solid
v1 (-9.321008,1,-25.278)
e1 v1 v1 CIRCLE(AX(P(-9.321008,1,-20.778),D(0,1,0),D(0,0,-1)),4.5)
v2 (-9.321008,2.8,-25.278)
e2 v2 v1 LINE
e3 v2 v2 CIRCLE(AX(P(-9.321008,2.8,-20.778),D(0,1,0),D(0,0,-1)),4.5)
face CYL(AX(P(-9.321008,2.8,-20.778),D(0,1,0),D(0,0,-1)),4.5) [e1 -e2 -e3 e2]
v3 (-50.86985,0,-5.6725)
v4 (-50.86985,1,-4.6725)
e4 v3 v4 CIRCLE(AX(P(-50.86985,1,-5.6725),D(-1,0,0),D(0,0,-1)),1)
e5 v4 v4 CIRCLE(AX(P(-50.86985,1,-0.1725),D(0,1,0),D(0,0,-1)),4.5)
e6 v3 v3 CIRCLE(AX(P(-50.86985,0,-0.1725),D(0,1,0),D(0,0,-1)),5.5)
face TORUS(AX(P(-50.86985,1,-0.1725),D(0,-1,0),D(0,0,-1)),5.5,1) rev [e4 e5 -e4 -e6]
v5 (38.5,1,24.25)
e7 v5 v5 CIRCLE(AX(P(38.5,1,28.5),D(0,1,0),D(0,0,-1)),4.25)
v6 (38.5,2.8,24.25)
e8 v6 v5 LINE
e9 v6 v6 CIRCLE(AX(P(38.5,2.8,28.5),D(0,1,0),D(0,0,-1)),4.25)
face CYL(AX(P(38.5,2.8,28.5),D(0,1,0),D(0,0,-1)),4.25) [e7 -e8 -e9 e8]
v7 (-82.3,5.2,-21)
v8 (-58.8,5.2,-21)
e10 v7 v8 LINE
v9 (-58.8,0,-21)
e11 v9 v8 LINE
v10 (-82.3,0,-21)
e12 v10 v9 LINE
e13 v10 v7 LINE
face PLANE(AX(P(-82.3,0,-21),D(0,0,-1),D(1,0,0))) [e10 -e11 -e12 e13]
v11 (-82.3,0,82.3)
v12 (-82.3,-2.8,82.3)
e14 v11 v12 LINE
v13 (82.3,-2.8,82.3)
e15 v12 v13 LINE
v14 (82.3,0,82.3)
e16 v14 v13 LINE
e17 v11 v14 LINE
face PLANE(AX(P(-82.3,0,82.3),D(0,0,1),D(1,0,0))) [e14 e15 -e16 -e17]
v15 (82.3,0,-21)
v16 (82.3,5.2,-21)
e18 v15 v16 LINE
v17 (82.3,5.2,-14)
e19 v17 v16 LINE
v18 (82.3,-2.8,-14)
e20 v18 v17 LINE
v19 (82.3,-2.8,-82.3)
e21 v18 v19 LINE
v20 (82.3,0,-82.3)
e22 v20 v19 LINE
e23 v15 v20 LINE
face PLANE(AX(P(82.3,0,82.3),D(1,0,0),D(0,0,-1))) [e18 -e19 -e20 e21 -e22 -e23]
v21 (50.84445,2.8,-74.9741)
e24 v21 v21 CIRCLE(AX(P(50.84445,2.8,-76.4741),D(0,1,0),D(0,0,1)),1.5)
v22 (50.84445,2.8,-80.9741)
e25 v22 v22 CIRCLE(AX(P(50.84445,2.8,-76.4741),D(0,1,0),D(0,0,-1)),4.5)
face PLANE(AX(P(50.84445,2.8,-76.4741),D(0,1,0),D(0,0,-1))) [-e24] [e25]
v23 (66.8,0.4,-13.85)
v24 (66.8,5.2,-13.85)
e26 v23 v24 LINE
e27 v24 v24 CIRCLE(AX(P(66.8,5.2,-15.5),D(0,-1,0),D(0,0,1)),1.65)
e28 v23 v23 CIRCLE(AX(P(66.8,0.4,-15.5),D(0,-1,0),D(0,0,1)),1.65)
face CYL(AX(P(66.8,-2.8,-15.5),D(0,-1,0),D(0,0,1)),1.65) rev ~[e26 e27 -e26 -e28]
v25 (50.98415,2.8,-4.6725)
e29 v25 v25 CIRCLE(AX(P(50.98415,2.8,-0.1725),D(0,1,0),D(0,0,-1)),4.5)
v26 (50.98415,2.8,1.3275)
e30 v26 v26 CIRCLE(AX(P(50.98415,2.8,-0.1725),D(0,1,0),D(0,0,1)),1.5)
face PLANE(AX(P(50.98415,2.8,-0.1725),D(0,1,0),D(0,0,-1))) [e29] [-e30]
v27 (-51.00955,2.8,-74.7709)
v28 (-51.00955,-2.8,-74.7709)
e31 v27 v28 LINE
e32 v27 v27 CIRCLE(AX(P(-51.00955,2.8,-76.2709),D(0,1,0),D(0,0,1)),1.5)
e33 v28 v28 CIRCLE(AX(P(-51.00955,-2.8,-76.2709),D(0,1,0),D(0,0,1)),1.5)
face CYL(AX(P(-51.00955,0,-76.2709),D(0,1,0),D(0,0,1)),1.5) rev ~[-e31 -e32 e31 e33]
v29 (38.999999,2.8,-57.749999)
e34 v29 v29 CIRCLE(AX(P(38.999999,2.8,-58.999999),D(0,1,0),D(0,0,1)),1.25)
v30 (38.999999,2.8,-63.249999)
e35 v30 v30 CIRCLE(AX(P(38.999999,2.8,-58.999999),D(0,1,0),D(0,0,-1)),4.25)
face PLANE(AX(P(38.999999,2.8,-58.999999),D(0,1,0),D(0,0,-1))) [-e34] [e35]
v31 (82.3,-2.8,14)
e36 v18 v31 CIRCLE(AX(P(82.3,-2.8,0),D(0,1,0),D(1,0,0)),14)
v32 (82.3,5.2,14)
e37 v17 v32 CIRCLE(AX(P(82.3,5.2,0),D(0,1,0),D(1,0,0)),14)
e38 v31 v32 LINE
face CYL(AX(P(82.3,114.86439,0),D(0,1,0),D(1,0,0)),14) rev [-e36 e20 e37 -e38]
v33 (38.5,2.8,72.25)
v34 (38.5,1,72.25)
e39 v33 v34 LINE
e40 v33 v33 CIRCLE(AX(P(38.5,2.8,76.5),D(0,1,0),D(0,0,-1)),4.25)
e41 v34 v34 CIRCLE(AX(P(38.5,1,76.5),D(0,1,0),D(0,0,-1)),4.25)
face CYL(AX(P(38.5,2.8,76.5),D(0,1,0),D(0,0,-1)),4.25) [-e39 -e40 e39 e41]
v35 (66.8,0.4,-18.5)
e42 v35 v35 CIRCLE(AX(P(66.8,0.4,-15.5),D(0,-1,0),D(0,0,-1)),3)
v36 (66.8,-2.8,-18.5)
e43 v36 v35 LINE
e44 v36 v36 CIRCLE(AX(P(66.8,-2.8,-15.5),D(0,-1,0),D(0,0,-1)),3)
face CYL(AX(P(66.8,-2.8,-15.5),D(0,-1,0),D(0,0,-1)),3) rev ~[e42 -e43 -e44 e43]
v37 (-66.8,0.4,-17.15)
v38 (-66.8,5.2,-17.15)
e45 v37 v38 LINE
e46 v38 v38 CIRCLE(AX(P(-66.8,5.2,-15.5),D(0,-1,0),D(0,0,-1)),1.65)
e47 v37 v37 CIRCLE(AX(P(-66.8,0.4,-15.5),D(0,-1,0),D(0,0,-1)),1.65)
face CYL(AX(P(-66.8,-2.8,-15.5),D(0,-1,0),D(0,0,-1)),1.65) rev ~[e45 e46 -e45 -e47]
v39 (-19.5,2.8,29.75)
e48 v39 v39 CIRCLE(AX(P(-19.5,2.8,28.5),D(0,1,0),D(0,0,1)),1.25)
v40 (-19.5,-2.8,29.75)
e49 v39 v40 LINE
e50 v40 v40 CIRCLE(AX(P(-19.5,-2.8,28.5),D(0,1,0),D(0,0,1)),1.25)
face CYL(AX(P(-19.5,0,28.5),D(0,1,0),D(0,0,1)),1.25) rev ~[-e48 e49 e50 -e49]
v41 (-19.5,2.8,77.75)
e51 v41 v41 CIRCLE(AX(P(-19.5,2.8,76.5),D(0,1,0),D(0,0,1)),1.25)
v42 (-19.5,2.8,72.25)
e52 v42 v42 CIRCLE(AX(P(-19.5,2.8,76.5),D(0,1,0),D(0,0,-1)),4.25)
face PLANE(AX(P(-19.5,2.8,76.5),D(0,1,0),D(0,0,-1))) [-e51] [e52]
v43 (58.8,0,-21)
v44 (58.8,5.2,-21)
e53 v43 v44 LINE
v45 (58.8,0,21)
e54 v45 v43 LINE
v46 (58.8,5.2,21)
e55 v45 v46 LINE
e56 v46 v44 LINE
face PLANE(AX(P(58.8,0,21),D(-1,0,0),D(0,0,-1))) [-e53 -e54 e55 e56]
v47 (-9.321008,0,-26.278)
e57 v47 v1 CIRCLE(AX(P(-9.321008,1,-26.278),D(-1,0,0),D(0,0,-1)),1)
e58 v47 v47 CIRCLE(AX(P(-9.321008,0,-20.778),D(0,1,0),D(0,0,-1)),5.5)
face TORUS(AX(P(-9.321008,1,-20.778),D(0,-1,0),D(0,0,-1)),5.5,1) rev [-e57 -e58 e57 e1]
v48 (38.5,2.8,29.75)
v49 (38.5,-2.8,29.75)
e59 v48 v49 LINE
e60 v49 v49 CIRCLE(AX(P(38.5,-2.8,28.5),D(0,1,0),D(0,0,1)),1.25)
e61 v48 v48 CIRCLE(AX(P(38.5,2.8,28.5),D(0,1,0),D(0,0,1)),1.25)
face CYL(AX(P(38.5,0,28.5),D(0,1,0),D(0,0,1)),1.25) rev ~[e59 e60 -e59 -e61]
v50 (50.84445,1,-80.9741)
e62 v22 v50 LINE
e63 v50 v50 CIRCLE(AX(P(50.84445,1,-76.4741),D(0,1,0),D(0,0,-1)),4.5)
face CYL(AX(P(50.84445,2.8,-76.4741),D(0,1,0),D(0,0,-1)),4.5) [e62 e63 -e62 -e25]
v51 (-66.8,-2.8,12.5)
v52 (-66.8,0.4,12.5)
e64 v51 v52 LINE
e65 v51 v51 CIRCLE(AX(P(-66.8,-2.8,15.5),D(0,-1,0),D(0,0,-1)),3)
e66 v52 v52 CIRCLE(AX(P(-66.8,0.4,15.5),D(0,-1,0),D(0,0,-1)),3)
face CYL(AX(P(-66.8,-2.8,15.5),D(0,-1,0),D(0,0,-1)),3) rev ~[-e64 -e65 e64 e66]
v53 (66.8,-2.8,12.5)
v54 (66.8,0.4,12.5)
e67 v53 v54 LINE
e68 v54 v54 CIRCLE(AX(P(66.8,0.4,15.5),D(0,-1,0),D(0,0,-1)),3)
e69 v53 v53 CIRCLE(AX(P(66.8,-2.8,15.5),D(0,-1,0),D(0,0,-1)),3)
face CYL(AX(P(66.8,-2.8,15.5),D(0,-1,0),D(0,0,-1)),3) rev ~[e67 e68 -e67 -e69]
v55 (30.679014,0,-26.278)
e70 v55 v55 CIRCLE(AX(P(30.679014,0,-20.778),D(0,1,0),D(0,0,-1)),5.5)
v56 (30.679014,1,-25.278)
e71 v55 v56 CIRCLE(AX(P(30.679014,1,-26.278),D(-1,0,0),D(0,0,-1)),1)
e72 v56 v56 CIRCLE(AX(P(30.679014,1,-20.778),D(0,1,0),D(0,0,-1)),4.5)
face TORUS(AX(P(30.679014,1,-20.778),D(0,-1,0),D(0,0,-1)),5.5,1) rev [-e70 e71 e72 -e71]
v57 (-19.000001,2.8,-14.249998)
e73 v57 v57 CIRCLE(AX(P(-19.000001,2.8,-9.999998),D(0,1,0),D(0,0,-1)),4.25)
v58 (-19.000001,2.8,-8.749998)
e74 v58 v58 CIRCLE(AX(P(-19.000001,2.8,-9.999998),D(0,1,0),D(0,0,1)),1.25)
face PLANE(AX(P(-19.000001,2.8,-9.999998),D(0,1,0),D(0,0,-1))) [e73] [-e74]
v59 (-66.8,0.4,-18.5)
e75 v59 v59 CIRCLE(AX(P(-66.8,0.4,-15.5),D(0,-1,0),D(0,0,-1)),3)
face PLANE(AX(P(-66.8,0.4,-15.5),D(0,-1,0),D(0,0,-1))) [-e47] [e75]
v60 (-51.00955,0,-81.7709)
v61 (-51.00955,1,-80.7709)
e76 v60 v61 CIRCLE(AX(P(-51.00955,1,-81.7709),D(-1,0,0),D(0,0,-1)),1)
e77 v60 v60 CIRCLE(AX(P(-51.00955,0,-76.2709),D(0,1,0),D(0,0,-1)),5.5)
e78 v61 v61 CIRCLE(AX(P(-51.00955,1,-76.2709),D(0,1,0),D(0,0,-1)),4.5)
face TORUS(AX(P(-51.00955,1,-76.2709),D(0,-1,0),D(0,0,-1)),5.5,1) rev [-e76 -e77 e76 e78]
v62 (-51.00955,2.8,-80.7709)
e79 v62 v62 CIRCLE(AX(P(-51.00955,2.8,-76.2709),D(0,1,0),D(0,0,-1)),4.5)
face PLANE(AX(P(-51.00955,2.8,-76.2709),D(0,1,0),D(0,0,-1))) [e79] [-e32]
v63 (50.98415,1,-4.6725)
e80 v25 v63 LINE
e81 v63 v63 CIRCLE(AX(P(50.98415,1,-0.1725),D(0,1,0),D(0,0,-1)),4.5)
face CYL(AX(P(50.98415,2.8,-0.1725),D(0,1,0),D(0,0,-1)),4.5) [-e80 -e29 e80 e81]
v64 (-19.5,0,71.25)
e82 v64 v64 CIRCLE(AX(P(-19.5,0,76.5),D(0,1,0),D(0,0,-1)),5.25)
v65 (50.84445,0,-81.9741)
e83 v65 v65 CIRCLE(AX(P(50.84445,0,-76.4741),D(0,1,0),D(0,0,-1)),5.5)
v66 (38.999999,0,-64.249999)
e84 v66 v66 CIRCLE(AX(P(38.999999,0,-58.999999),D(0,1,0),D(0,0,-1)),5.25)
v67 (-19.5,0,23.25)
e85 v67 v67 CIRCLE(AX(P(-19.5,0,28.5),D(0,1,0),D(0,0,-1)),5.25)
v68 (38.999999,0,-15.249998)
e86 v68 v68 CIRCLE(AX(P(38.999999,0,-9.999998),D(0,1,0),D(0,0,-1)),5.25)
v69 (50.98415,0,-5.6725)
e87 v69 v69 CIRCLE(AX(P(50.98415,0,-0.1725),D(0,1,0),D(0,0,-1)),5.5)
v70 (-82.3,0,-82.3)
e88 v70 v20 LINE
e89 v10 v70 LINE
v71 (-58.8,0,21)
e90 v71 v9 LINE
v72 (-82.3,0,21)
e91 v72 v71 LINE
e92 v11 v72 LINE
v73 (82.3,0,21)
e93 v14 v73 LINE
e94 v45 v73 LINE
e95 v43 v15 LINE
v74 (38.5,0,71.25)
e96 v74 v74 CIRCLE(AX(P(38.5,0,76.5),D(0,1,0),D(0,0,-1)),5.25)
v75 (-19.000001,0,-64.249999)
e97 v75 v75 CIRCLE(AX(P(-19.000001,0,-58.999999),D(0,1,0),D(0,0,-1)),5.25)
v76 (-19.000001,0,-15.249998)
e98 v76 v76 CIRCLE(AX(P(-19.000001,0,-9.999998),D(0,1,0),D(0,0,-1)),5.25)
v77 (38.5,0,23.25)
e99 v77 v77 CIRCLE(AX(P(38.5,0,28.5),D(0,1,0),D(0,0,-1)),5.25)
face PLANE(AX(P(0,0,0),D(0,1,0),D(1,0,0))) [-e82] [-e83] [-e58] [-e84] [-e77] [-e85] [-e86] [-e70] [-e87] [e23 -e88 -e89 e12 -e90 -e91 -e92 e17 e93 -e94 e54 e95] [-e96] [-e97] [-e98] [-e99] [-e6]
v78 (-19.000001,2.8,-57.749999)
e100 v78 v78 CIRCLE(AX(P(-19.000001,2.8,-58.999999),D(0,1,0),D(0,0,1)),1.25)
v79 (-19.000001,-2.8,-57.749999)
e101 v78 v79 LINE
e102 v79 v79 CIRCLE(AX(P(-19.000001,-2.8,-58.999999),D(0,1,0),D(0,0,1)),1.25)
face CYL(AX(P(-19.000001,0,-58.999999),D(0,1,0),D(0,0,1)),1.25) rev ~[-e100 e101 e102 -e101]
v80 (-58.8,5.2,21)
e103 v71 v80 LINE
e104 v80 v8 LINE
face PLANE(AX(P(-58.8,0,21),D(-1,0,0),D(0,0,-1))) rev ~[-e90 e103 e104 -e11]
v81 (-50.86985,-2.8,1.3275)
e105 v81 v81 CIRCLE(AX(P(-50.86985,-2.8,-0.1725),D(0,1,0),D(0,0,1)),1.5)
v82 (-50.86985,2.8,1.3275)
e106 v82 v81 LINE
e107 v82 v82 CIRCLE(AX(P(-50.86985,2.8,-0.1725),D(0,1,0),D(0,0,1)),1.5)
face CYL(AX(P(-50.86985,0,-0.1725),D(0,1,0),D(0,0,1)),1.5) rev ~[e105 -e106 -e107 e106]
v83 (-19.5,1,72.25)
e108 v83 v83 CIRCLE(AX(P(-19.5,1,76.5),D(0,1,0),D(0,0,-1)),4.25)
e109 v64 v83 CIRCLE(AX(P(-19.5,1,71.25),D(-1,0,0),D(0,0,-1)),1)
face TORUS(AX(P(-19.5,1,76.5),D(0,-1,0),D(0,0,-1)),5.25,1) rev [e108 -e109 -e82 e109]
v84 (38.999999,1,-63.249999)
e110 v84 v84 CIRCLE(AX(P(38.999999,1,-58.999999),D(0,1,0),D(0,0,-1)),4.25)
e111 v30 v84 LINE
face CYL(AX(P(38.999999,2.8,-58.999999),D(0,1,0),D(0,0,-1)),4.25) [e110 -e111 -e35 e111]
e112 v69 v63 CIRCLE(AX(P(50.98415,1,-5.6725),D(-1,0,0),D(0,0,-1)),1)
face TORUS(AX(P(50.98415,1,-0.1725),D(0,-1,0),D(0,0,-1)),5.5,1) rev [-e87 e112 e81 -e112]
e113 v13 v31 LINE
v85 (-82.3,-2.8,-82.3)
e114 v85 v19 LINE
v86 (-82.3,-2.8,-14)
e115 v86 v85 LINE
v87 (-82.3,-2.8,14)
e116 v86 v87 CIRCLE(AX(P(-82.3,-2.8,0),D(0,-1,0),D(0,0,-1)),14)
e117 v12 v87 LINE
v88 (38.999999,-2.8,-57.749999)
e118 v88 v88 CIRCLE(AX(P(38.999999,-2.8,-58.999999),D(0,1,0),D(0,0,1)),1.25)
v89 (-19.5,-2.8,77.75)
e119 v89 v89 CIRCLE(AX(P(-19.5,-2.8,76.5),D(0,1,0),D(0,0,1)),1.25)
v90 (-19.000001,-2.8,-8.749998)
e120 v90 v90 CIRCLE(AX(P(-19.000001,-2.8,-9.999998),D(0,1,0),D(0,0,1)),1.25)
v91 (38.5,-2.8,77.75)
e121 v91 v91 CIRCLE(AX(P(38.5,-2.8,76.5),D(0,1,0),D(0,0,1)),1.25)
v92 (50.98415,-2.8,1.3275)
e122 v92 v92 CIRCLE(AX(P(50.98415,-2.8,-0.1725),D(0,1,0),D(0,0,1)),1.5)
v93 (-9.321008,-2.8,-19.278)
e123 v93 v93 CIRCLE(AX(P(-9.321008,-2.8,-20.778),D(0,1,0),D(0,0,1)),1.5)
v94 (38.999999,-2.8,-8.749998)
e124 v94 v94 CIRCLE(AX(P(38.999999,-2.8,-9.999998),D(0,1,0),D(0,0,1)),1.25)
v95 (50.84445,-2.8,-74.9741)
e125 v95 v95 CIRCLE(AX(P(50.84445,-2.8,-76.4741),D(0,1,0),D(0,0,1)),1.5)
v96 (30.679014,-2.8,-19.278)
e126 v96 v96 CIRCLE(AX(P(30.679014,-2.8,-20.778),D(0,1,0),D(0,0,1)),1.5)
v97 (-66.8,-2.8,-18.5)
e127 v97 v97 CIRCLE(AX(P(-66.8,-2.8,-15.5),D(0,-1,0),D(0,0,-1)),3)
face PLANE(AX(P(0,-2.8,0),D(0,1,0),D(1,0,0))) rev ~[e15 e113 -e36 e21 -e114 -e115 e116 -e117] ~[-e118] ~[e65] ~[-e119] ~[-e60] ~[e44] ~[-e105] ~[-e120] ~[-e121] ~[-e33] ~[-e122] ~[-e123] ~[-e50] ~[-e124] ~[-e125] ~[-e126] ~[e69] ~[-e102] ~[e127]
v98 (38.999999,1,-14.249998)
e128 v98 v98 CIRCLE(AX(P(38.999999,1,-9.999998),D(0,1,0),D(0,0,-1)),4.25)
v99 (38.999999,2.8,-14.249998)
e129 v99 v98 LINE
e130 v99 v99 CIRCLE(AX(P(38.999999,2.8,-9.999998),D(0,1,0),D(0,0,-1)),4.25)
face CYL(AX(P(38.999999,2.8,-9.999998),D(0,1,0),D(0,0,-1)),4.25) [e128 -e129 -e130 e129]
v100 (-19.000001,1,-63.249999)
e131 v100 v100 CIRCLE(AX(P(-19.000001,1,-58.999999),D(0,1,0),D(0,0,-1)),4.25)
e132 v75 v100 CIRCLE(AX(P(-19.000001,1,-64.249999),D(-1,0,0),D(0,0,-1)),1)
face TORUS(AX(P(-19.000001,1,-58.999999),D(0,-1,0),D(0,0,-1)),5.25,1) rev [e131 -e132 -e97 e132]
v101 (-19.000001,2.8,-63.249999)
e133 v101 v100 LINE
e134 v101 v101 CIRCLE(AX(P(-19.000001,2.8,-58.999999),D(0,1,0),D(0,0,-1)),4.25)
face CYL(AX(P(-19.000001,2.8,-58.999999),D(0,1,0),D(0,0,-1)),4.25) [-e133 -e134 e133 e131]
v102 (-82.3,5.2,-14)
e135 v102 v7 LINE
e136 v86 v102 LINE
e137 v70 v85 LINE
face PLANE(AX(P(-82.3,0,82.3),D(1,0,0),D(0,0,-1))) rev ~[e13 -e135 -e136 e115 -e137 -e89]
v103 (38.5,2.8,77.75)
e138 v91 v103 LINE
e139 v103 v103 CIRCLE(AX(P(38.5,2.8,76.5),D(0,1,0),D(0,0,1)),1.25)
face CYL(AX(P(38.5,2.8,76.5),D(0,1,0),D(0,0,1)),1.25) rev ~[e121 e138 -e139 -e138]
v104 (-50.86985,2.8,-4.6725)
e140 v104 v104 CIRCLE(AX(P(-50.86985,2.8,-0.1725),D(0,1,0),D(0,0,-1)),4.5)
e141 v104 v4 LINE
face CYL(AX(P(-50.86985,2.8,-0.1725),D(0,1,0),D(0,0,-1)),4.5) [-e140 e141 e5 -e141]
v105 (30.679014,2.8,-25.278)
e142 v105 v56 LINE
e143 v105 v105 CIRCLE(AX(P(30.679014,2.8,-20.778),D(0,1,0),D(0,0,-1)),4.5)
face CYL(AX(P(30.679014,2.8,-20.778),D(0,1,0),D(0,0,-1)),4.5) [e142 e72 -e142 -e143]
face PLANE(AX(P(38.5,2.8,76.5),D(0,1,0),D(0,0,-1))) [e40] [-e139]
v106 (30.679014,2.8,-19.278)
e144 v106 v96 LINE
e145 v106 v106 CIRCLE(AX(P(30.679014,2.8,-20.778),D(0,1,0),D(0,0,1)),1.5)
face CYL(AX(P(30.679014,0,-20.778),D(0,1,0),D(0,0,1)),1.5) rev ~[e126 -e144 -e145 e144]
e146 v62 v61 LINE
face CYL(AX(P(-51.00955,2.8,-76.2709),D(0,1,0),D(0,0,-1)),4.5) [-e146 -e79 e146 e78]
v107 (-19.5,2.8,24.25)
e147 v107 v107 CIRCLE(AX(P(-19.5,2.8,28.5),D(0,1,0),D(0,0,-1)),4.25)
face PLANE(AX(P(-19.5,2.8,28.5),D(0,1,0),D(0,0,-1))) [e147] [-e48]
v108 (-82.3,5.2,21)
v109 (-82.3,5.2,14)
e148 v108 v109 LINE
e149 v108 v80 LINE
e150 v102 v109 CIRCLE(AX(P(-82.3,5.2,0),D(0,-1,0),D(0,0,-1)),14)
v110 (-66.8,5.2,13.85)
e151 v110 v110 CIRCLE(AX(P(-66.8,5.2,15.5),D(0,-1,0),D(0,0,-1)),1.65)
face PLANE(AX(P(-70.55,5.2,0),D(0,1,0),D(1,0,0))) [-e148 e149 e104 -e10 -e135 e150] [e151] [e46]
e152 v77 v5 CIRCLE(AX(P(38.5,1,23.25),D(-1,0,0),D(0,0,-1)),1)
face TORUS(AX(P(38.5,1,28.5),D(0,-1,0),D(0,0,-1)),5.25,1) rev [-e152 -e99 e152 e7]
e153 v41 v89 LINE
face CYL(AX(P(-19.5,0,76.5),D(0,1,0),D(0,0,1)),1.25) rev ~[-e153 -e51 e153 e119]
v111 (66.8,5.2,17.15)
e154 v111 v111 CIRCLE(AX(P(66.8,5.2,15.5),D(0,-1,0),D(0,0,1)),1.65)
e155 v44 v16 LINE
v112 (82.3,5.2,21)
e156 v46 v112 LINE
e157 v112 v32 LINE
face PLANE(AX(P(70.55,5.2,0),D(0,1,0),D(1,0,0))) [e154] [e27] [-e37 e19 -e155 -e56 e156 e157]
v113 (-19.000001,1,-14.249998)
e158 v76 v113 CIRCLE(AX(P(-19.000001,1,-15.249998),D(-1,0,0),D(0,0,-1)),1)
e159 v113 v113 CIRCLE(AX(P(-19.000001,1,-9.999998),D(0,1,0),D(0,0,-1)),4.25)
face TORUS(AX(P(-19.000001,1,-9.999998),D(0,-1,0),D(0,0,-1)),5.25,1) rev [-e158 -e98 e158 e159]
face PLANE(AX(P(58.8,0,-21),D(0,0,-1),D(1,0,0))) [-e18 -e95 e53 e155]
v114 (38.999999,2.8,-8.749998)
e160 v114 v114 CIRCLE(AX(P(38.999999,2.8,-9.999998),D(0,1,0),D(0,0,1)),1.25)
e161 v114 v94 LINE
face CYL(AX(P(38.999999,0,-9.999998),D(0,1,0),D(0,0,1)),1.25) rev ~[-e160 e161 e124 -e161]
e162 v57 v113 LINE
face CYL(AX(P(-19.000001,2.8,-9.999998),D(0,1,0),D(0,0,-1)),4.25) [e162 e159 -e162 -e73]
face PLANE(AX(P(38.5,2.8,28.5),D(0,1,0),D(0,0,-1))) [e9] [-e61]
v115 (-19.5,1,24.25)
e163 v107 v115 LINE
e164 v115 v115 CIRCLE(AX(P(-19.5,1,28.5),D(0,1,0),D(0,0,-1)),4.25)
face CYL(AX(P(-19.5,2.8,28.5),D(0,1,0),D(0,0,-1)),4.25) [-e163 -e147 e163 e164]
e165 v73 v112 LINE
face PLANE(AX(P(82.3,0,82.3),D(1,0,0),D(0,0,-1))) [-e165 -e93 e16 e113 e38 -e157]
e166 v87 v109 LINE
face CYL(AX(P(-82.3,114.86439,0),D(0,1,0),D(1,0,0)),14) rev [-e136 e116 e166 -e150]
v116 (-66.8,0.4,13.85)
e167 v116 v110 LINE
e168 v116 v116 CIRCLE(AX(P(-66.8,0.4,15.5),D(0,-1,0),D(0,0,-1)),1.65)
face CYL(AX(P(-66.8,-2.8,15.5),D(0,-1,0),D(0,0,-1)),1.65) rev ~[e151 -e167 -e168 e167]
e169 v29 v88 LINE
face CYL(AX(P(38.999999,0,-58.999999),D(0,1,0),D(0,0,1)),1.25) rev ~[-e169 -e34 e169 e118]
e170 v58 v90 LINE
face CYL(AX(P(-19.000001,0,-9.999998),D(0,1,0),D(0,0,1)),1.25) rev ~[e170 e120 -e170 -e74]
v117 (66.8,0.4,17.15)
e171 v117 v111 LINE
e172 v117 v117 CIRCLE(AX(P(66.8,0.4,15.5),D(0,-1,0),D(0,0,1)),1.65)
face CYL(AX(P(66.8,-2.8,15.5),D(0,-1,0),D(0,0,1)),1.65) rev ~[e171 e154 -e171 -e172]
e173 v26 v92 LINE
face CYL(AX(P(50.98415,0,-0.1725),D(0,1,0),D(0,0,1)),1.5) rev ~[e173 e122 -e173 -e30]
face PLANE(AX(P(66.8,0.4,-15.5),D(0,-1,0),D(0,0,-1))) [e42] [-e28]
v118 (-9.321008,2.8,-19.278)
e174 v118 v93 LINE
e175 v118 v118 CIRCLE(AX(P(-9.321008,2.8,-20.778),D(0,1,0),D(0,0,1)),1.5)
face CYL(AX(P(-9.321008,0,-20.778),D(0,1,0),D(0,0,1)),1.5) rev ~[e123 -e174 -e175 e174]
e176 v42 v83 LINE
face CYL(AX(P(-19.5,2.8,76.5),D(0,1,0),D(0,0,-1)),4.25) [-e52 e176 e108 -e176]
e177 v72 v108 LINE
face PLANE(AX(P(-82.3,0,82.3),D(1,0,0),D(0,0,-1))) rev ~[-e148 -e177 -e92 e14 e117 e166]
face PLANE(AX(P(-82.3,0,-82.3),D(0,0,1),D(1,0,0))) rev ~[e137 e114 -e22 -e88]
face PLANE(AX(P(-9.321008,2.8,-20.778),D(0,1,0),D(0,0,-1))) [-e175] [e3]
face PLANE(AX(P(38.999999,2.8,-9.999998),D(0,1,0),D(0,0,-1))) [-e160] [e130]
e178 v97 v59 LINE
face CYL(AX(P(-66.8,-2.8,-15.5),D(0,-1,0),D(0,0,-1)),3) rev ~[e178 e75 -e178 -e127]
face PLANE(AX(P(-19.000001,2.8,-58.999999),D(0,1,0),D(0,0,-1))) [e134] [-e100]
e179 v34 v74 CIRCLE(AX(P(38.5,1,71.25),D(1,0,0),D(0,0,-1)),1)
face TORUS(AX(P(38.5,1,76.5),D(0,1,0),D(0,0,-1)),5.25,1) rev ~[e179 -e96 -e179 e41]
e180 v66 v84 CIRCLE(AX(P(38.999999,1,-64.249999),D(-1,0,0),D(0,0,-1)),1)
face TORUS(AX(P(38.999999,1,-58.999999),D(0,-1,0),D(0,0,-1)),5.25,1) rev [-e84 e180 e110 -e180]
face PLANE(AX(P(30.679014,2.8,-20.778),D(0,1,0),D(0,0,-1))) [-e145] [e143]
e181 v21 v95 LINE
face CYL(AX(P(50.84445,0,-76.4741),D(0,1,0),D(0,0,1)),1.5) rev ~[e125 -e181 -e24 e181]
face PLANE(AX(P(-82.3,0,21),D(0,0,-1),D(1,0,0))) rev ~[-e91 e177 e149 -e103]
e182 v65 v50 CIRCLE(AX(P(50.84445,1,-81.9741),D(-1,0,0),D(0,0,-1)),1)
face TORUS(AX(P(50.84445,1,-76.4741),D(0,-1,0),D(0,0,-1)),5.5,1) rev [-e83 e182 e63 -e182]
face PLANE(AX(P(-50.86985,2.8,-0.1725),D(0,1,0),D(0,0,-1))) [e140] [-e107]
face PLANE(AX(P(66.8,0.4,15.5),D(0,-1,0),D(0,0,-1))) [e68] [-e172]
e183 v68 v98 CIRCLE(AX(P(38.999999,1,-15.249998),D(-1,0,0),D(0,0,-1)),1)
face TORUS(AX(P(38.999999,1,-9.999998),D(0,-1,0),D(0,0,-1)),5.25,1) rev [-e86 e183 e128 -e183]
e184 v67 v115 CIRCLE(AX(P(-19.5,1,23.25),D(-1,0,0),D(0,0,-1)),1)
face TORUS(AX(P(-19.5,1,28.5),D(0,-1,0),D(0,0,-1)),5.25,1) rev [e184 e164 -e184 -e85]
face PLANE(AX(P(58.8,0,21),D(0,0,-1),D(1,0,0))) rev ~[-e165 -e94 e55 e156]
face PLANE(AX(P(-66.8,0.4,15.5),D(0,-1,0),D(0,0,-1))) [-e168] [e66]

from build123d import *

# Parameters (mm, degrees)
SKETCH1_W               = 164.6
SKETCH1_H               = 164.6
BOSS_EXTRUDE1_DEPTH     = 2.8
SKETCH2_W               = 23.5
SKETCH2_H               = 42
BOSS_EXTRUDE2_DEPTH     = 5.2
CUT_EXTRUDE1_DEPTH      = 117.664390454
CUT_EXTRUDE1_DEPTH_BACK = 117.664390454
SKETCH3_R               = 14
SKETCH4_R               = 1.65
CUT_EXTRUDE2_DEPTH      = 117.664390454
SKETCH5_R               = 3
CUT_EXTRUDE3_DEPTH      = 3.2
SKETCH6_R               = 1.25
SKETCH6_R_2             = 1.5
CUT_EXTRUDE4_DEPTH      = 117.50587968
BOSS_EXTRUDE3_START     = 2.8
SKETCH7_R               = 4.25
SKETCH7_R_2             = 1.25
SKETCH7_R_3             = 4.5
SKETCH7_R_4             = 1.5
BOSS_EXTRUDE3_DEPTH     = 2.8
FILLET1_R               = 1


with BuildPart() as part:
    # Sketch1 → Boss-Extrude1 (new body)
    with BuildSketch(Plane(origin=(0, 0, 0), x_dir=(1, 0, 0), z_dir=(0, 1, 0))):
        Rectangle(SKETCH1_W, SKETCH1_H)
    extrude(amount=-BOSS_EXTRUDE1_DEPTH)

    # Sketch2 → Boss-Extrude2 (add)
    with BuildSketch(Plane(origin=(0, 0, 0), x_dir=(1, 0, 0), z_dir=(0, 1, 0))):
        with Locations((-70.55, 0)):
            Rectangle(SKETCH2_W, SKETCH2_H)
        with Locations((70.55, 0)):
            Rectangle(SKETCH2_W, SKETCH2_H)
    extrude(amount=BOSS_EXTRUDE2_DEPTH)

    # Sketch3 → Cut-Extrude1 (cut, two sides: drawn at the far end of the back side and taken through both)
    with BuildSketch(Plane.XZ.offset(2.8).offset(-CUT_EXTRUDE1_DEPTH_BACK)):
        with Locations((82.3, 0)):
            Circle(SKETCH3_R)
        with Locations((-82.3, 0)):
            Circle(SKETCH3_R)
    extrude(amount=CUT_EXTRUDE1_DEPTH + CUT_EXTRUDE1_DEPTH_BACK, mode=Mode.SUBTRACT)

    # Sketch4 → Cut-Extrude2 (cut, through all)
    with BuildSketch(Plane.XZ.offset(2.8)):
        with Locations(Location((-66.8, 15.5, 0), (0, 0, 270))):
            Circle(SKETCH4_R)
        with Locations(Location((-66.8, -15.5, 0), (0, 0, 270))):
            Circle(SKETCH4_R)
        with Locations(Location((66.8, 15.5, 0), (0, 0, 90))):
            Circle(SKETCH4_R)
        with Locations(Location((66.8, -15.5, 0), (0, 0, 90))):
            Circle(SKETCH4_R)
    extrude(amount=-CUT_EXTRUDE2_DEPTH, mode=Mode.SUBTRACT)

    # Sketch5 → Cut-Extrude3 (cut)
    with BuildSketch(Plane.XZ.offset(2.8)):
        with Locations(Location((66.8, 15.5, 0), (0, 0, 270))):
            Circle(SKETCH5_R)
        with Locations(Location((66.8, -15.5, 0), (0, 0, 270))):
            Circle(SKETCH5_R)
        with Locations(Location((-66.8, -15.5, 0), (0, 0, 270))):
            Circle(SKETCH5_R)
        with Locations(Location((-66.8, 15.5, 0), (0, 0, 270))):
            Circle(SKETCH5_R)
    extrude(amount=-CUT_EXTRUDE3_DEPTH, mode=Mode.SUBTRACT)

    # Sketch6 → Cut-Extrude4 (cut, through all)
    with BuildSketch(Plane(origin=(0, 0, 0), x_dir=(1, 0, 0), z_dir=(0, 1, 0))):
        with Locations(Location((-19.5, -76.5, 0), (0, 0, 270))):
            Circle(SKETCH6_R)
        with Locations(Location((-19.5, -28.5, 0), (0, 0, 270))):
            Circle(SKETCH6_R)
        with Locations(Location((38.5, -28.5, 0), (0, 0, 270))):
            Circle(SKETCH6_R)
        with Locations(Location((38.5, -76.5, 0), (0, 0, 270))):
            Circle(SKETCH6_R)
        with Locations(Location((-9.321007657, 20.777999975, 0), (0, 0, 270))):
            Circle(SKETCH6_R_2)
        with Locations(Location((30.679013943, 20.777999975, 0), (0, 0, 270))):
            Circle(SKETCH6_R_2)
        with Locations(Location((-50.86985, 0.1725, 0), (0, 0, 270))):
            Circle(SKETCH6_R_2)
        with Locations(Location((-19.00000146, 9.99999832, 0), (0, 0, 270))):
            Circle(SKETCH6_R)
        with Locations(Location((38.99999938, 9.99999832, 0), (0, 0, 270))):
            Circle(SKETCH6_R)
        with Locations(Location((50.98415, 0.1725, 0), (0, 0, 270))):
            Circle(SKETCH6_R_2)
        with Locations(Location((50.84445, 76.4741, 0), (0, 0, 270))):
            Circle(SKETCH6_R_2)
        with Locations(Location((-51.00955, 76.2709, 0), (0, 0, 270))):
            Circle(SKETCH6_R_2)
        with Locations(Location((-19.00000146, 58.99999938, 0), (0, 0, 270))):
            Circle(SKETCH6_R)
        with Locations(Location((38.99999938, 58.99999938, 0), (0, 0, 270))):
            Circle(SKETCH6_R)
    extrude(amount=-CUT_EXTRUDE4_DEPTH, mode=Mode.SUBTRACT)

    # Sketch7 → Boss-Extrude3 (add)
    # profile 1 of 14: a face of its own
    with BuildSketch(Plane(origin=(0, 0, 0), x_dir=(1, 0, 0), z_dir=(0, 1, 0)).offset(BOSS_EXTRUDE3_START)):
        with Locations(Location((38.5, -76.5, 0), (0, 0, 90))):
            Circle(SKETCH7_R)
        with Locations(Location((38.5, -76.5, 0), (0, 0, 270))):
            Circle(SKETCH7_R_2, mode=Mode.SUBTRACT)
    # profile 2 of 14: a face of its own
    with BuildSketch(Plane(origin=(0, 0, 0), x_dir=(1, 0, 0), z_dir=(0, 1, 0)).offset(BOSS_EXTRUDE3_START)):
        with Locations(Location((-19.5, -76.5, 0), (0, 0, 90))):
            Circle(SKETCH7_R)
        with Locations(Location((-19.5, -76.5, 0), (0, 0, 270))):
            Circle(SKETCH7_R_2, mode=Mode.SUBTRACT)
    # profile 3 of 14: a face of its own
    with BuildSketch(Plane(origin=(0, 0, 0), x_dir=(1, 0, 0), z_dir=(0, 1, 0)).offset(BOSS_EXTRUDE3_START)):
        with Locations(Location((-19.5, -28.5, 0), (0, 0, 90))):
            Circle(SKETCH7_R)
        with Locations(Location((-19.5, -28.5, 0), (0, 0, 270))):
            Circle(SKETCH7_R_2, mode=Mode.SUBTRACT)
    # profile 4 of 14: a face of its own
    with BuildSketch(Plane(origin=(0, 0, 0), x_dir=(1, 0, 0), z_dir=(0, 1, 0)).offset(BOSS_EXTRUDE3_START)):
        with Locations(Location((38.5, -28.5, 0), (0, 0, 90))):
            Circle(SKETCH7_R)
        with Locations(Location((38.5, -28.5, 0), (0, 0, 270))):
            Circle(SKETCH7_R_2, mode=Mode.SUBTRACT)
    # profile 5 of 14: a face of its own
    with BuildSketch(Plane(origin=(0, 0, 0), x_dir=(1, 0, 0), z_dir=(0, 1, 0)).offset(BOSS_EXTRUDE3_START)):
        with Locations(Location((50.98415, 0.1725, 0), (0, 0, 90))):
            Circle(SKETCH7_R_3)
        with Locations(Location((50.98415, 0.1725, 0), (0, 0, 270))):
            Circle(SKETCH7_R_4, mode=Mode.SUBTRACT)
    # profile 6 of 14: a face of its own
    with BuildSketch(Plane(origin=(0, 0, 0), x_dir=(1, 0, 0), z_dir=(0, 1, 0)).offset(BOSS_EXTRUDE3_START)):
        with Locations(Location((38.99999938, 9.99999832, 0), (0, 0, 90))):
            Circle(SKETCH7_R)
        with Locations(Location((38.99999938, 9.99999832, 0), (0, 0, 270))):
            Circle(SKETCH7_R_2, mode=Mode.SUBTRACT)
    # profile 7 of 14: a face of its own
    with BuildSketch(Plane(origin=(0, 0, 0), x_dir=(1, 0, 0), z_dir=(0, 1, 0)).offset(BOSS_EXTRUDE3_START)):
        with Locations(Location((30.679013943, 20.777999975, 0), (0, 0, 90))):
            Circle(SKETCH7_R_3)
        with Locations(Location((30.679013943, 20.777999975, 0), (0, 0, 270))):
            Circle(SKETCH7_R_4, mode=Mode.SUBTRACT)
    # profile 8 of 14: a face of its own
    with BuildSketch(Plane(origin=(0, 0, 0), x_dir=(1, 0, 0), z_dir=(0, 1, 0)).offset(BOSS_EXTRUDE3_START)):
        with Locations(Location((-9.321007657, 20.777999975, 0), (0, 0, 90))):
            Circle(SKETCH7_R_3)
        with Locations(Location((-9.321007657, 20.777999975, 0), (0, 0, 270))):
            Circle(SKETCH7_R_4, mode=Mode.SUBTRACT)
    # profile 9 of 14: a face of its own
    with BuildSketch(Plane(origin=(0, 0, 0), x_dir=(1, 0, 0), z_dir=(0, 1, 0)).offset(BOSS_EXTRUDE3_START)):
        with Locations(Location((-19.00000146, 9.99999832, 0), (0, 0, 90))):
            Circle(SKETCH7_R)
        with Locations(Location((-19.00000146, 9.99999832, 0), (0, 0, 270))):
            Circle(SKETCH7_R_2, mode=Mode.SUBTRACT)
    # profile 10 of 14: a face of its own
    with BuildSketch(Plane(origin=(0, 0, 0), x_dir=(1, 0, 0), z_dir=(0, 1, 0)).offset(BOSS_EXTRUDE3_START)):
        with Locations(Location((-50.86985, 0.1725, 0), (0, 0, 90))):
            Circle(SKETCH7_R_3)
        with Locations(Location((-50.86985, 0.1725, 0), (0, 0, 270))):
            Circle(SKETCH7_R_4, mode=Mode.SUBTRACT)
    # profile 11 of 14: a face of its own
    with BuildSketch(Plane(origin=(0, 0, 0), x_dir=(1, 0, 0), z_dir=(0, 1, 0)).offset(BOSS_EXTRUDE3_START)):
        with Locations(Location((50.84445, 76.4741, 0), (0, 0, 90))):
            Circle(SKETCH7_R_3)
        with Locations(Location((50.84445, 76.4741, 0), (0, 0, 270))):
            Circle(SKETCH7_R_4, mode=Mode.SUBTRACT)
    # profile 12 of 14: a face of its own
    with BuildSketch(Plane(origin=(0, 0, 0), x_dir=(1, 0, 0), z_dir=(0, 1, 0)).offset(BOSS_EXTRUDE3_START)):
        with Locations(Location((38.99999938, 58.99999938, 0), (0, 0, 90))):
            Circle(SKETCH7_R)
        with Locations(Location((38.99999938, 58.99999938, 0), (0, 0, 270))):
            Circle(SKETCH7_R_2, mode=Mode.SUBTRACT)
    # profile 13 of 14: a face of its own
    with BuildSketch(Plane(origin=(0, 0, 0), x_dir=(1, 0, 0), z_dir=(0, 1, 0)).offset(BOSS_EXTRUDE3_START)):
        with Locations(Location((-19.00000146, 58.99999938, 0), (0, 0, 90))):
            Circle(SKETCH7_R)
        with Locations(Location((-19.00000146, 58.99999938, 0), (0, 0, 270))):
            Circle(SKETCH7_R_2, mode=Mode.SUBTRACT)
    # profile 14 of 14: a face of its own
    with BuildSketch(Plane(origin=(0, 0, 0), x_dir=(1, 0, 0), z_dir=(0, 1, 0)).offset(BOSS_EXTRUDE3_START)):
        with Locations(Location((-51.00955, 76.2709, 0), (0, 0, 90))):
            Circle(SKETCH7_R_3)
        with Locations(Location((-51.00955, 76.2709, 0), (0, 0, 270))):
            Circle(SKETCH7_R_4, mode=Mode.SUBTRACT)
    extrude(amount=-BOSS_EXTRUDE3_DEPTH)

    # Fillet1
    fillet1_edges = [part.edges().sort_by_distance(p)[0] for p in [
        (38.5, 0, 80.75),
        (-19.5, 0, 80.75),
        (-19.5, 0, 32.75),
        (38.5, 0, 32.75),
        (50.98415, 0, 4.3275),
        (38.99999938, 0, -5.74999832),
        (30.679013943, 0, -16.277999975),
        (-9.321007657, 0, -16.277999975),
        (-19.00000146, 0, -5.74999832),
        (-50.86985, 0, 4.3275),
        (50.84445, 0, -71.9741),
        (38.99999938, 0, -54.74999938),
        (-19.00000146, 0, -54.74999938),
        (-51.00955, 0, -71.7709),
    ]]
    fillet(fillet1_edges, radius=FILLET1_R)


solid = part.part
